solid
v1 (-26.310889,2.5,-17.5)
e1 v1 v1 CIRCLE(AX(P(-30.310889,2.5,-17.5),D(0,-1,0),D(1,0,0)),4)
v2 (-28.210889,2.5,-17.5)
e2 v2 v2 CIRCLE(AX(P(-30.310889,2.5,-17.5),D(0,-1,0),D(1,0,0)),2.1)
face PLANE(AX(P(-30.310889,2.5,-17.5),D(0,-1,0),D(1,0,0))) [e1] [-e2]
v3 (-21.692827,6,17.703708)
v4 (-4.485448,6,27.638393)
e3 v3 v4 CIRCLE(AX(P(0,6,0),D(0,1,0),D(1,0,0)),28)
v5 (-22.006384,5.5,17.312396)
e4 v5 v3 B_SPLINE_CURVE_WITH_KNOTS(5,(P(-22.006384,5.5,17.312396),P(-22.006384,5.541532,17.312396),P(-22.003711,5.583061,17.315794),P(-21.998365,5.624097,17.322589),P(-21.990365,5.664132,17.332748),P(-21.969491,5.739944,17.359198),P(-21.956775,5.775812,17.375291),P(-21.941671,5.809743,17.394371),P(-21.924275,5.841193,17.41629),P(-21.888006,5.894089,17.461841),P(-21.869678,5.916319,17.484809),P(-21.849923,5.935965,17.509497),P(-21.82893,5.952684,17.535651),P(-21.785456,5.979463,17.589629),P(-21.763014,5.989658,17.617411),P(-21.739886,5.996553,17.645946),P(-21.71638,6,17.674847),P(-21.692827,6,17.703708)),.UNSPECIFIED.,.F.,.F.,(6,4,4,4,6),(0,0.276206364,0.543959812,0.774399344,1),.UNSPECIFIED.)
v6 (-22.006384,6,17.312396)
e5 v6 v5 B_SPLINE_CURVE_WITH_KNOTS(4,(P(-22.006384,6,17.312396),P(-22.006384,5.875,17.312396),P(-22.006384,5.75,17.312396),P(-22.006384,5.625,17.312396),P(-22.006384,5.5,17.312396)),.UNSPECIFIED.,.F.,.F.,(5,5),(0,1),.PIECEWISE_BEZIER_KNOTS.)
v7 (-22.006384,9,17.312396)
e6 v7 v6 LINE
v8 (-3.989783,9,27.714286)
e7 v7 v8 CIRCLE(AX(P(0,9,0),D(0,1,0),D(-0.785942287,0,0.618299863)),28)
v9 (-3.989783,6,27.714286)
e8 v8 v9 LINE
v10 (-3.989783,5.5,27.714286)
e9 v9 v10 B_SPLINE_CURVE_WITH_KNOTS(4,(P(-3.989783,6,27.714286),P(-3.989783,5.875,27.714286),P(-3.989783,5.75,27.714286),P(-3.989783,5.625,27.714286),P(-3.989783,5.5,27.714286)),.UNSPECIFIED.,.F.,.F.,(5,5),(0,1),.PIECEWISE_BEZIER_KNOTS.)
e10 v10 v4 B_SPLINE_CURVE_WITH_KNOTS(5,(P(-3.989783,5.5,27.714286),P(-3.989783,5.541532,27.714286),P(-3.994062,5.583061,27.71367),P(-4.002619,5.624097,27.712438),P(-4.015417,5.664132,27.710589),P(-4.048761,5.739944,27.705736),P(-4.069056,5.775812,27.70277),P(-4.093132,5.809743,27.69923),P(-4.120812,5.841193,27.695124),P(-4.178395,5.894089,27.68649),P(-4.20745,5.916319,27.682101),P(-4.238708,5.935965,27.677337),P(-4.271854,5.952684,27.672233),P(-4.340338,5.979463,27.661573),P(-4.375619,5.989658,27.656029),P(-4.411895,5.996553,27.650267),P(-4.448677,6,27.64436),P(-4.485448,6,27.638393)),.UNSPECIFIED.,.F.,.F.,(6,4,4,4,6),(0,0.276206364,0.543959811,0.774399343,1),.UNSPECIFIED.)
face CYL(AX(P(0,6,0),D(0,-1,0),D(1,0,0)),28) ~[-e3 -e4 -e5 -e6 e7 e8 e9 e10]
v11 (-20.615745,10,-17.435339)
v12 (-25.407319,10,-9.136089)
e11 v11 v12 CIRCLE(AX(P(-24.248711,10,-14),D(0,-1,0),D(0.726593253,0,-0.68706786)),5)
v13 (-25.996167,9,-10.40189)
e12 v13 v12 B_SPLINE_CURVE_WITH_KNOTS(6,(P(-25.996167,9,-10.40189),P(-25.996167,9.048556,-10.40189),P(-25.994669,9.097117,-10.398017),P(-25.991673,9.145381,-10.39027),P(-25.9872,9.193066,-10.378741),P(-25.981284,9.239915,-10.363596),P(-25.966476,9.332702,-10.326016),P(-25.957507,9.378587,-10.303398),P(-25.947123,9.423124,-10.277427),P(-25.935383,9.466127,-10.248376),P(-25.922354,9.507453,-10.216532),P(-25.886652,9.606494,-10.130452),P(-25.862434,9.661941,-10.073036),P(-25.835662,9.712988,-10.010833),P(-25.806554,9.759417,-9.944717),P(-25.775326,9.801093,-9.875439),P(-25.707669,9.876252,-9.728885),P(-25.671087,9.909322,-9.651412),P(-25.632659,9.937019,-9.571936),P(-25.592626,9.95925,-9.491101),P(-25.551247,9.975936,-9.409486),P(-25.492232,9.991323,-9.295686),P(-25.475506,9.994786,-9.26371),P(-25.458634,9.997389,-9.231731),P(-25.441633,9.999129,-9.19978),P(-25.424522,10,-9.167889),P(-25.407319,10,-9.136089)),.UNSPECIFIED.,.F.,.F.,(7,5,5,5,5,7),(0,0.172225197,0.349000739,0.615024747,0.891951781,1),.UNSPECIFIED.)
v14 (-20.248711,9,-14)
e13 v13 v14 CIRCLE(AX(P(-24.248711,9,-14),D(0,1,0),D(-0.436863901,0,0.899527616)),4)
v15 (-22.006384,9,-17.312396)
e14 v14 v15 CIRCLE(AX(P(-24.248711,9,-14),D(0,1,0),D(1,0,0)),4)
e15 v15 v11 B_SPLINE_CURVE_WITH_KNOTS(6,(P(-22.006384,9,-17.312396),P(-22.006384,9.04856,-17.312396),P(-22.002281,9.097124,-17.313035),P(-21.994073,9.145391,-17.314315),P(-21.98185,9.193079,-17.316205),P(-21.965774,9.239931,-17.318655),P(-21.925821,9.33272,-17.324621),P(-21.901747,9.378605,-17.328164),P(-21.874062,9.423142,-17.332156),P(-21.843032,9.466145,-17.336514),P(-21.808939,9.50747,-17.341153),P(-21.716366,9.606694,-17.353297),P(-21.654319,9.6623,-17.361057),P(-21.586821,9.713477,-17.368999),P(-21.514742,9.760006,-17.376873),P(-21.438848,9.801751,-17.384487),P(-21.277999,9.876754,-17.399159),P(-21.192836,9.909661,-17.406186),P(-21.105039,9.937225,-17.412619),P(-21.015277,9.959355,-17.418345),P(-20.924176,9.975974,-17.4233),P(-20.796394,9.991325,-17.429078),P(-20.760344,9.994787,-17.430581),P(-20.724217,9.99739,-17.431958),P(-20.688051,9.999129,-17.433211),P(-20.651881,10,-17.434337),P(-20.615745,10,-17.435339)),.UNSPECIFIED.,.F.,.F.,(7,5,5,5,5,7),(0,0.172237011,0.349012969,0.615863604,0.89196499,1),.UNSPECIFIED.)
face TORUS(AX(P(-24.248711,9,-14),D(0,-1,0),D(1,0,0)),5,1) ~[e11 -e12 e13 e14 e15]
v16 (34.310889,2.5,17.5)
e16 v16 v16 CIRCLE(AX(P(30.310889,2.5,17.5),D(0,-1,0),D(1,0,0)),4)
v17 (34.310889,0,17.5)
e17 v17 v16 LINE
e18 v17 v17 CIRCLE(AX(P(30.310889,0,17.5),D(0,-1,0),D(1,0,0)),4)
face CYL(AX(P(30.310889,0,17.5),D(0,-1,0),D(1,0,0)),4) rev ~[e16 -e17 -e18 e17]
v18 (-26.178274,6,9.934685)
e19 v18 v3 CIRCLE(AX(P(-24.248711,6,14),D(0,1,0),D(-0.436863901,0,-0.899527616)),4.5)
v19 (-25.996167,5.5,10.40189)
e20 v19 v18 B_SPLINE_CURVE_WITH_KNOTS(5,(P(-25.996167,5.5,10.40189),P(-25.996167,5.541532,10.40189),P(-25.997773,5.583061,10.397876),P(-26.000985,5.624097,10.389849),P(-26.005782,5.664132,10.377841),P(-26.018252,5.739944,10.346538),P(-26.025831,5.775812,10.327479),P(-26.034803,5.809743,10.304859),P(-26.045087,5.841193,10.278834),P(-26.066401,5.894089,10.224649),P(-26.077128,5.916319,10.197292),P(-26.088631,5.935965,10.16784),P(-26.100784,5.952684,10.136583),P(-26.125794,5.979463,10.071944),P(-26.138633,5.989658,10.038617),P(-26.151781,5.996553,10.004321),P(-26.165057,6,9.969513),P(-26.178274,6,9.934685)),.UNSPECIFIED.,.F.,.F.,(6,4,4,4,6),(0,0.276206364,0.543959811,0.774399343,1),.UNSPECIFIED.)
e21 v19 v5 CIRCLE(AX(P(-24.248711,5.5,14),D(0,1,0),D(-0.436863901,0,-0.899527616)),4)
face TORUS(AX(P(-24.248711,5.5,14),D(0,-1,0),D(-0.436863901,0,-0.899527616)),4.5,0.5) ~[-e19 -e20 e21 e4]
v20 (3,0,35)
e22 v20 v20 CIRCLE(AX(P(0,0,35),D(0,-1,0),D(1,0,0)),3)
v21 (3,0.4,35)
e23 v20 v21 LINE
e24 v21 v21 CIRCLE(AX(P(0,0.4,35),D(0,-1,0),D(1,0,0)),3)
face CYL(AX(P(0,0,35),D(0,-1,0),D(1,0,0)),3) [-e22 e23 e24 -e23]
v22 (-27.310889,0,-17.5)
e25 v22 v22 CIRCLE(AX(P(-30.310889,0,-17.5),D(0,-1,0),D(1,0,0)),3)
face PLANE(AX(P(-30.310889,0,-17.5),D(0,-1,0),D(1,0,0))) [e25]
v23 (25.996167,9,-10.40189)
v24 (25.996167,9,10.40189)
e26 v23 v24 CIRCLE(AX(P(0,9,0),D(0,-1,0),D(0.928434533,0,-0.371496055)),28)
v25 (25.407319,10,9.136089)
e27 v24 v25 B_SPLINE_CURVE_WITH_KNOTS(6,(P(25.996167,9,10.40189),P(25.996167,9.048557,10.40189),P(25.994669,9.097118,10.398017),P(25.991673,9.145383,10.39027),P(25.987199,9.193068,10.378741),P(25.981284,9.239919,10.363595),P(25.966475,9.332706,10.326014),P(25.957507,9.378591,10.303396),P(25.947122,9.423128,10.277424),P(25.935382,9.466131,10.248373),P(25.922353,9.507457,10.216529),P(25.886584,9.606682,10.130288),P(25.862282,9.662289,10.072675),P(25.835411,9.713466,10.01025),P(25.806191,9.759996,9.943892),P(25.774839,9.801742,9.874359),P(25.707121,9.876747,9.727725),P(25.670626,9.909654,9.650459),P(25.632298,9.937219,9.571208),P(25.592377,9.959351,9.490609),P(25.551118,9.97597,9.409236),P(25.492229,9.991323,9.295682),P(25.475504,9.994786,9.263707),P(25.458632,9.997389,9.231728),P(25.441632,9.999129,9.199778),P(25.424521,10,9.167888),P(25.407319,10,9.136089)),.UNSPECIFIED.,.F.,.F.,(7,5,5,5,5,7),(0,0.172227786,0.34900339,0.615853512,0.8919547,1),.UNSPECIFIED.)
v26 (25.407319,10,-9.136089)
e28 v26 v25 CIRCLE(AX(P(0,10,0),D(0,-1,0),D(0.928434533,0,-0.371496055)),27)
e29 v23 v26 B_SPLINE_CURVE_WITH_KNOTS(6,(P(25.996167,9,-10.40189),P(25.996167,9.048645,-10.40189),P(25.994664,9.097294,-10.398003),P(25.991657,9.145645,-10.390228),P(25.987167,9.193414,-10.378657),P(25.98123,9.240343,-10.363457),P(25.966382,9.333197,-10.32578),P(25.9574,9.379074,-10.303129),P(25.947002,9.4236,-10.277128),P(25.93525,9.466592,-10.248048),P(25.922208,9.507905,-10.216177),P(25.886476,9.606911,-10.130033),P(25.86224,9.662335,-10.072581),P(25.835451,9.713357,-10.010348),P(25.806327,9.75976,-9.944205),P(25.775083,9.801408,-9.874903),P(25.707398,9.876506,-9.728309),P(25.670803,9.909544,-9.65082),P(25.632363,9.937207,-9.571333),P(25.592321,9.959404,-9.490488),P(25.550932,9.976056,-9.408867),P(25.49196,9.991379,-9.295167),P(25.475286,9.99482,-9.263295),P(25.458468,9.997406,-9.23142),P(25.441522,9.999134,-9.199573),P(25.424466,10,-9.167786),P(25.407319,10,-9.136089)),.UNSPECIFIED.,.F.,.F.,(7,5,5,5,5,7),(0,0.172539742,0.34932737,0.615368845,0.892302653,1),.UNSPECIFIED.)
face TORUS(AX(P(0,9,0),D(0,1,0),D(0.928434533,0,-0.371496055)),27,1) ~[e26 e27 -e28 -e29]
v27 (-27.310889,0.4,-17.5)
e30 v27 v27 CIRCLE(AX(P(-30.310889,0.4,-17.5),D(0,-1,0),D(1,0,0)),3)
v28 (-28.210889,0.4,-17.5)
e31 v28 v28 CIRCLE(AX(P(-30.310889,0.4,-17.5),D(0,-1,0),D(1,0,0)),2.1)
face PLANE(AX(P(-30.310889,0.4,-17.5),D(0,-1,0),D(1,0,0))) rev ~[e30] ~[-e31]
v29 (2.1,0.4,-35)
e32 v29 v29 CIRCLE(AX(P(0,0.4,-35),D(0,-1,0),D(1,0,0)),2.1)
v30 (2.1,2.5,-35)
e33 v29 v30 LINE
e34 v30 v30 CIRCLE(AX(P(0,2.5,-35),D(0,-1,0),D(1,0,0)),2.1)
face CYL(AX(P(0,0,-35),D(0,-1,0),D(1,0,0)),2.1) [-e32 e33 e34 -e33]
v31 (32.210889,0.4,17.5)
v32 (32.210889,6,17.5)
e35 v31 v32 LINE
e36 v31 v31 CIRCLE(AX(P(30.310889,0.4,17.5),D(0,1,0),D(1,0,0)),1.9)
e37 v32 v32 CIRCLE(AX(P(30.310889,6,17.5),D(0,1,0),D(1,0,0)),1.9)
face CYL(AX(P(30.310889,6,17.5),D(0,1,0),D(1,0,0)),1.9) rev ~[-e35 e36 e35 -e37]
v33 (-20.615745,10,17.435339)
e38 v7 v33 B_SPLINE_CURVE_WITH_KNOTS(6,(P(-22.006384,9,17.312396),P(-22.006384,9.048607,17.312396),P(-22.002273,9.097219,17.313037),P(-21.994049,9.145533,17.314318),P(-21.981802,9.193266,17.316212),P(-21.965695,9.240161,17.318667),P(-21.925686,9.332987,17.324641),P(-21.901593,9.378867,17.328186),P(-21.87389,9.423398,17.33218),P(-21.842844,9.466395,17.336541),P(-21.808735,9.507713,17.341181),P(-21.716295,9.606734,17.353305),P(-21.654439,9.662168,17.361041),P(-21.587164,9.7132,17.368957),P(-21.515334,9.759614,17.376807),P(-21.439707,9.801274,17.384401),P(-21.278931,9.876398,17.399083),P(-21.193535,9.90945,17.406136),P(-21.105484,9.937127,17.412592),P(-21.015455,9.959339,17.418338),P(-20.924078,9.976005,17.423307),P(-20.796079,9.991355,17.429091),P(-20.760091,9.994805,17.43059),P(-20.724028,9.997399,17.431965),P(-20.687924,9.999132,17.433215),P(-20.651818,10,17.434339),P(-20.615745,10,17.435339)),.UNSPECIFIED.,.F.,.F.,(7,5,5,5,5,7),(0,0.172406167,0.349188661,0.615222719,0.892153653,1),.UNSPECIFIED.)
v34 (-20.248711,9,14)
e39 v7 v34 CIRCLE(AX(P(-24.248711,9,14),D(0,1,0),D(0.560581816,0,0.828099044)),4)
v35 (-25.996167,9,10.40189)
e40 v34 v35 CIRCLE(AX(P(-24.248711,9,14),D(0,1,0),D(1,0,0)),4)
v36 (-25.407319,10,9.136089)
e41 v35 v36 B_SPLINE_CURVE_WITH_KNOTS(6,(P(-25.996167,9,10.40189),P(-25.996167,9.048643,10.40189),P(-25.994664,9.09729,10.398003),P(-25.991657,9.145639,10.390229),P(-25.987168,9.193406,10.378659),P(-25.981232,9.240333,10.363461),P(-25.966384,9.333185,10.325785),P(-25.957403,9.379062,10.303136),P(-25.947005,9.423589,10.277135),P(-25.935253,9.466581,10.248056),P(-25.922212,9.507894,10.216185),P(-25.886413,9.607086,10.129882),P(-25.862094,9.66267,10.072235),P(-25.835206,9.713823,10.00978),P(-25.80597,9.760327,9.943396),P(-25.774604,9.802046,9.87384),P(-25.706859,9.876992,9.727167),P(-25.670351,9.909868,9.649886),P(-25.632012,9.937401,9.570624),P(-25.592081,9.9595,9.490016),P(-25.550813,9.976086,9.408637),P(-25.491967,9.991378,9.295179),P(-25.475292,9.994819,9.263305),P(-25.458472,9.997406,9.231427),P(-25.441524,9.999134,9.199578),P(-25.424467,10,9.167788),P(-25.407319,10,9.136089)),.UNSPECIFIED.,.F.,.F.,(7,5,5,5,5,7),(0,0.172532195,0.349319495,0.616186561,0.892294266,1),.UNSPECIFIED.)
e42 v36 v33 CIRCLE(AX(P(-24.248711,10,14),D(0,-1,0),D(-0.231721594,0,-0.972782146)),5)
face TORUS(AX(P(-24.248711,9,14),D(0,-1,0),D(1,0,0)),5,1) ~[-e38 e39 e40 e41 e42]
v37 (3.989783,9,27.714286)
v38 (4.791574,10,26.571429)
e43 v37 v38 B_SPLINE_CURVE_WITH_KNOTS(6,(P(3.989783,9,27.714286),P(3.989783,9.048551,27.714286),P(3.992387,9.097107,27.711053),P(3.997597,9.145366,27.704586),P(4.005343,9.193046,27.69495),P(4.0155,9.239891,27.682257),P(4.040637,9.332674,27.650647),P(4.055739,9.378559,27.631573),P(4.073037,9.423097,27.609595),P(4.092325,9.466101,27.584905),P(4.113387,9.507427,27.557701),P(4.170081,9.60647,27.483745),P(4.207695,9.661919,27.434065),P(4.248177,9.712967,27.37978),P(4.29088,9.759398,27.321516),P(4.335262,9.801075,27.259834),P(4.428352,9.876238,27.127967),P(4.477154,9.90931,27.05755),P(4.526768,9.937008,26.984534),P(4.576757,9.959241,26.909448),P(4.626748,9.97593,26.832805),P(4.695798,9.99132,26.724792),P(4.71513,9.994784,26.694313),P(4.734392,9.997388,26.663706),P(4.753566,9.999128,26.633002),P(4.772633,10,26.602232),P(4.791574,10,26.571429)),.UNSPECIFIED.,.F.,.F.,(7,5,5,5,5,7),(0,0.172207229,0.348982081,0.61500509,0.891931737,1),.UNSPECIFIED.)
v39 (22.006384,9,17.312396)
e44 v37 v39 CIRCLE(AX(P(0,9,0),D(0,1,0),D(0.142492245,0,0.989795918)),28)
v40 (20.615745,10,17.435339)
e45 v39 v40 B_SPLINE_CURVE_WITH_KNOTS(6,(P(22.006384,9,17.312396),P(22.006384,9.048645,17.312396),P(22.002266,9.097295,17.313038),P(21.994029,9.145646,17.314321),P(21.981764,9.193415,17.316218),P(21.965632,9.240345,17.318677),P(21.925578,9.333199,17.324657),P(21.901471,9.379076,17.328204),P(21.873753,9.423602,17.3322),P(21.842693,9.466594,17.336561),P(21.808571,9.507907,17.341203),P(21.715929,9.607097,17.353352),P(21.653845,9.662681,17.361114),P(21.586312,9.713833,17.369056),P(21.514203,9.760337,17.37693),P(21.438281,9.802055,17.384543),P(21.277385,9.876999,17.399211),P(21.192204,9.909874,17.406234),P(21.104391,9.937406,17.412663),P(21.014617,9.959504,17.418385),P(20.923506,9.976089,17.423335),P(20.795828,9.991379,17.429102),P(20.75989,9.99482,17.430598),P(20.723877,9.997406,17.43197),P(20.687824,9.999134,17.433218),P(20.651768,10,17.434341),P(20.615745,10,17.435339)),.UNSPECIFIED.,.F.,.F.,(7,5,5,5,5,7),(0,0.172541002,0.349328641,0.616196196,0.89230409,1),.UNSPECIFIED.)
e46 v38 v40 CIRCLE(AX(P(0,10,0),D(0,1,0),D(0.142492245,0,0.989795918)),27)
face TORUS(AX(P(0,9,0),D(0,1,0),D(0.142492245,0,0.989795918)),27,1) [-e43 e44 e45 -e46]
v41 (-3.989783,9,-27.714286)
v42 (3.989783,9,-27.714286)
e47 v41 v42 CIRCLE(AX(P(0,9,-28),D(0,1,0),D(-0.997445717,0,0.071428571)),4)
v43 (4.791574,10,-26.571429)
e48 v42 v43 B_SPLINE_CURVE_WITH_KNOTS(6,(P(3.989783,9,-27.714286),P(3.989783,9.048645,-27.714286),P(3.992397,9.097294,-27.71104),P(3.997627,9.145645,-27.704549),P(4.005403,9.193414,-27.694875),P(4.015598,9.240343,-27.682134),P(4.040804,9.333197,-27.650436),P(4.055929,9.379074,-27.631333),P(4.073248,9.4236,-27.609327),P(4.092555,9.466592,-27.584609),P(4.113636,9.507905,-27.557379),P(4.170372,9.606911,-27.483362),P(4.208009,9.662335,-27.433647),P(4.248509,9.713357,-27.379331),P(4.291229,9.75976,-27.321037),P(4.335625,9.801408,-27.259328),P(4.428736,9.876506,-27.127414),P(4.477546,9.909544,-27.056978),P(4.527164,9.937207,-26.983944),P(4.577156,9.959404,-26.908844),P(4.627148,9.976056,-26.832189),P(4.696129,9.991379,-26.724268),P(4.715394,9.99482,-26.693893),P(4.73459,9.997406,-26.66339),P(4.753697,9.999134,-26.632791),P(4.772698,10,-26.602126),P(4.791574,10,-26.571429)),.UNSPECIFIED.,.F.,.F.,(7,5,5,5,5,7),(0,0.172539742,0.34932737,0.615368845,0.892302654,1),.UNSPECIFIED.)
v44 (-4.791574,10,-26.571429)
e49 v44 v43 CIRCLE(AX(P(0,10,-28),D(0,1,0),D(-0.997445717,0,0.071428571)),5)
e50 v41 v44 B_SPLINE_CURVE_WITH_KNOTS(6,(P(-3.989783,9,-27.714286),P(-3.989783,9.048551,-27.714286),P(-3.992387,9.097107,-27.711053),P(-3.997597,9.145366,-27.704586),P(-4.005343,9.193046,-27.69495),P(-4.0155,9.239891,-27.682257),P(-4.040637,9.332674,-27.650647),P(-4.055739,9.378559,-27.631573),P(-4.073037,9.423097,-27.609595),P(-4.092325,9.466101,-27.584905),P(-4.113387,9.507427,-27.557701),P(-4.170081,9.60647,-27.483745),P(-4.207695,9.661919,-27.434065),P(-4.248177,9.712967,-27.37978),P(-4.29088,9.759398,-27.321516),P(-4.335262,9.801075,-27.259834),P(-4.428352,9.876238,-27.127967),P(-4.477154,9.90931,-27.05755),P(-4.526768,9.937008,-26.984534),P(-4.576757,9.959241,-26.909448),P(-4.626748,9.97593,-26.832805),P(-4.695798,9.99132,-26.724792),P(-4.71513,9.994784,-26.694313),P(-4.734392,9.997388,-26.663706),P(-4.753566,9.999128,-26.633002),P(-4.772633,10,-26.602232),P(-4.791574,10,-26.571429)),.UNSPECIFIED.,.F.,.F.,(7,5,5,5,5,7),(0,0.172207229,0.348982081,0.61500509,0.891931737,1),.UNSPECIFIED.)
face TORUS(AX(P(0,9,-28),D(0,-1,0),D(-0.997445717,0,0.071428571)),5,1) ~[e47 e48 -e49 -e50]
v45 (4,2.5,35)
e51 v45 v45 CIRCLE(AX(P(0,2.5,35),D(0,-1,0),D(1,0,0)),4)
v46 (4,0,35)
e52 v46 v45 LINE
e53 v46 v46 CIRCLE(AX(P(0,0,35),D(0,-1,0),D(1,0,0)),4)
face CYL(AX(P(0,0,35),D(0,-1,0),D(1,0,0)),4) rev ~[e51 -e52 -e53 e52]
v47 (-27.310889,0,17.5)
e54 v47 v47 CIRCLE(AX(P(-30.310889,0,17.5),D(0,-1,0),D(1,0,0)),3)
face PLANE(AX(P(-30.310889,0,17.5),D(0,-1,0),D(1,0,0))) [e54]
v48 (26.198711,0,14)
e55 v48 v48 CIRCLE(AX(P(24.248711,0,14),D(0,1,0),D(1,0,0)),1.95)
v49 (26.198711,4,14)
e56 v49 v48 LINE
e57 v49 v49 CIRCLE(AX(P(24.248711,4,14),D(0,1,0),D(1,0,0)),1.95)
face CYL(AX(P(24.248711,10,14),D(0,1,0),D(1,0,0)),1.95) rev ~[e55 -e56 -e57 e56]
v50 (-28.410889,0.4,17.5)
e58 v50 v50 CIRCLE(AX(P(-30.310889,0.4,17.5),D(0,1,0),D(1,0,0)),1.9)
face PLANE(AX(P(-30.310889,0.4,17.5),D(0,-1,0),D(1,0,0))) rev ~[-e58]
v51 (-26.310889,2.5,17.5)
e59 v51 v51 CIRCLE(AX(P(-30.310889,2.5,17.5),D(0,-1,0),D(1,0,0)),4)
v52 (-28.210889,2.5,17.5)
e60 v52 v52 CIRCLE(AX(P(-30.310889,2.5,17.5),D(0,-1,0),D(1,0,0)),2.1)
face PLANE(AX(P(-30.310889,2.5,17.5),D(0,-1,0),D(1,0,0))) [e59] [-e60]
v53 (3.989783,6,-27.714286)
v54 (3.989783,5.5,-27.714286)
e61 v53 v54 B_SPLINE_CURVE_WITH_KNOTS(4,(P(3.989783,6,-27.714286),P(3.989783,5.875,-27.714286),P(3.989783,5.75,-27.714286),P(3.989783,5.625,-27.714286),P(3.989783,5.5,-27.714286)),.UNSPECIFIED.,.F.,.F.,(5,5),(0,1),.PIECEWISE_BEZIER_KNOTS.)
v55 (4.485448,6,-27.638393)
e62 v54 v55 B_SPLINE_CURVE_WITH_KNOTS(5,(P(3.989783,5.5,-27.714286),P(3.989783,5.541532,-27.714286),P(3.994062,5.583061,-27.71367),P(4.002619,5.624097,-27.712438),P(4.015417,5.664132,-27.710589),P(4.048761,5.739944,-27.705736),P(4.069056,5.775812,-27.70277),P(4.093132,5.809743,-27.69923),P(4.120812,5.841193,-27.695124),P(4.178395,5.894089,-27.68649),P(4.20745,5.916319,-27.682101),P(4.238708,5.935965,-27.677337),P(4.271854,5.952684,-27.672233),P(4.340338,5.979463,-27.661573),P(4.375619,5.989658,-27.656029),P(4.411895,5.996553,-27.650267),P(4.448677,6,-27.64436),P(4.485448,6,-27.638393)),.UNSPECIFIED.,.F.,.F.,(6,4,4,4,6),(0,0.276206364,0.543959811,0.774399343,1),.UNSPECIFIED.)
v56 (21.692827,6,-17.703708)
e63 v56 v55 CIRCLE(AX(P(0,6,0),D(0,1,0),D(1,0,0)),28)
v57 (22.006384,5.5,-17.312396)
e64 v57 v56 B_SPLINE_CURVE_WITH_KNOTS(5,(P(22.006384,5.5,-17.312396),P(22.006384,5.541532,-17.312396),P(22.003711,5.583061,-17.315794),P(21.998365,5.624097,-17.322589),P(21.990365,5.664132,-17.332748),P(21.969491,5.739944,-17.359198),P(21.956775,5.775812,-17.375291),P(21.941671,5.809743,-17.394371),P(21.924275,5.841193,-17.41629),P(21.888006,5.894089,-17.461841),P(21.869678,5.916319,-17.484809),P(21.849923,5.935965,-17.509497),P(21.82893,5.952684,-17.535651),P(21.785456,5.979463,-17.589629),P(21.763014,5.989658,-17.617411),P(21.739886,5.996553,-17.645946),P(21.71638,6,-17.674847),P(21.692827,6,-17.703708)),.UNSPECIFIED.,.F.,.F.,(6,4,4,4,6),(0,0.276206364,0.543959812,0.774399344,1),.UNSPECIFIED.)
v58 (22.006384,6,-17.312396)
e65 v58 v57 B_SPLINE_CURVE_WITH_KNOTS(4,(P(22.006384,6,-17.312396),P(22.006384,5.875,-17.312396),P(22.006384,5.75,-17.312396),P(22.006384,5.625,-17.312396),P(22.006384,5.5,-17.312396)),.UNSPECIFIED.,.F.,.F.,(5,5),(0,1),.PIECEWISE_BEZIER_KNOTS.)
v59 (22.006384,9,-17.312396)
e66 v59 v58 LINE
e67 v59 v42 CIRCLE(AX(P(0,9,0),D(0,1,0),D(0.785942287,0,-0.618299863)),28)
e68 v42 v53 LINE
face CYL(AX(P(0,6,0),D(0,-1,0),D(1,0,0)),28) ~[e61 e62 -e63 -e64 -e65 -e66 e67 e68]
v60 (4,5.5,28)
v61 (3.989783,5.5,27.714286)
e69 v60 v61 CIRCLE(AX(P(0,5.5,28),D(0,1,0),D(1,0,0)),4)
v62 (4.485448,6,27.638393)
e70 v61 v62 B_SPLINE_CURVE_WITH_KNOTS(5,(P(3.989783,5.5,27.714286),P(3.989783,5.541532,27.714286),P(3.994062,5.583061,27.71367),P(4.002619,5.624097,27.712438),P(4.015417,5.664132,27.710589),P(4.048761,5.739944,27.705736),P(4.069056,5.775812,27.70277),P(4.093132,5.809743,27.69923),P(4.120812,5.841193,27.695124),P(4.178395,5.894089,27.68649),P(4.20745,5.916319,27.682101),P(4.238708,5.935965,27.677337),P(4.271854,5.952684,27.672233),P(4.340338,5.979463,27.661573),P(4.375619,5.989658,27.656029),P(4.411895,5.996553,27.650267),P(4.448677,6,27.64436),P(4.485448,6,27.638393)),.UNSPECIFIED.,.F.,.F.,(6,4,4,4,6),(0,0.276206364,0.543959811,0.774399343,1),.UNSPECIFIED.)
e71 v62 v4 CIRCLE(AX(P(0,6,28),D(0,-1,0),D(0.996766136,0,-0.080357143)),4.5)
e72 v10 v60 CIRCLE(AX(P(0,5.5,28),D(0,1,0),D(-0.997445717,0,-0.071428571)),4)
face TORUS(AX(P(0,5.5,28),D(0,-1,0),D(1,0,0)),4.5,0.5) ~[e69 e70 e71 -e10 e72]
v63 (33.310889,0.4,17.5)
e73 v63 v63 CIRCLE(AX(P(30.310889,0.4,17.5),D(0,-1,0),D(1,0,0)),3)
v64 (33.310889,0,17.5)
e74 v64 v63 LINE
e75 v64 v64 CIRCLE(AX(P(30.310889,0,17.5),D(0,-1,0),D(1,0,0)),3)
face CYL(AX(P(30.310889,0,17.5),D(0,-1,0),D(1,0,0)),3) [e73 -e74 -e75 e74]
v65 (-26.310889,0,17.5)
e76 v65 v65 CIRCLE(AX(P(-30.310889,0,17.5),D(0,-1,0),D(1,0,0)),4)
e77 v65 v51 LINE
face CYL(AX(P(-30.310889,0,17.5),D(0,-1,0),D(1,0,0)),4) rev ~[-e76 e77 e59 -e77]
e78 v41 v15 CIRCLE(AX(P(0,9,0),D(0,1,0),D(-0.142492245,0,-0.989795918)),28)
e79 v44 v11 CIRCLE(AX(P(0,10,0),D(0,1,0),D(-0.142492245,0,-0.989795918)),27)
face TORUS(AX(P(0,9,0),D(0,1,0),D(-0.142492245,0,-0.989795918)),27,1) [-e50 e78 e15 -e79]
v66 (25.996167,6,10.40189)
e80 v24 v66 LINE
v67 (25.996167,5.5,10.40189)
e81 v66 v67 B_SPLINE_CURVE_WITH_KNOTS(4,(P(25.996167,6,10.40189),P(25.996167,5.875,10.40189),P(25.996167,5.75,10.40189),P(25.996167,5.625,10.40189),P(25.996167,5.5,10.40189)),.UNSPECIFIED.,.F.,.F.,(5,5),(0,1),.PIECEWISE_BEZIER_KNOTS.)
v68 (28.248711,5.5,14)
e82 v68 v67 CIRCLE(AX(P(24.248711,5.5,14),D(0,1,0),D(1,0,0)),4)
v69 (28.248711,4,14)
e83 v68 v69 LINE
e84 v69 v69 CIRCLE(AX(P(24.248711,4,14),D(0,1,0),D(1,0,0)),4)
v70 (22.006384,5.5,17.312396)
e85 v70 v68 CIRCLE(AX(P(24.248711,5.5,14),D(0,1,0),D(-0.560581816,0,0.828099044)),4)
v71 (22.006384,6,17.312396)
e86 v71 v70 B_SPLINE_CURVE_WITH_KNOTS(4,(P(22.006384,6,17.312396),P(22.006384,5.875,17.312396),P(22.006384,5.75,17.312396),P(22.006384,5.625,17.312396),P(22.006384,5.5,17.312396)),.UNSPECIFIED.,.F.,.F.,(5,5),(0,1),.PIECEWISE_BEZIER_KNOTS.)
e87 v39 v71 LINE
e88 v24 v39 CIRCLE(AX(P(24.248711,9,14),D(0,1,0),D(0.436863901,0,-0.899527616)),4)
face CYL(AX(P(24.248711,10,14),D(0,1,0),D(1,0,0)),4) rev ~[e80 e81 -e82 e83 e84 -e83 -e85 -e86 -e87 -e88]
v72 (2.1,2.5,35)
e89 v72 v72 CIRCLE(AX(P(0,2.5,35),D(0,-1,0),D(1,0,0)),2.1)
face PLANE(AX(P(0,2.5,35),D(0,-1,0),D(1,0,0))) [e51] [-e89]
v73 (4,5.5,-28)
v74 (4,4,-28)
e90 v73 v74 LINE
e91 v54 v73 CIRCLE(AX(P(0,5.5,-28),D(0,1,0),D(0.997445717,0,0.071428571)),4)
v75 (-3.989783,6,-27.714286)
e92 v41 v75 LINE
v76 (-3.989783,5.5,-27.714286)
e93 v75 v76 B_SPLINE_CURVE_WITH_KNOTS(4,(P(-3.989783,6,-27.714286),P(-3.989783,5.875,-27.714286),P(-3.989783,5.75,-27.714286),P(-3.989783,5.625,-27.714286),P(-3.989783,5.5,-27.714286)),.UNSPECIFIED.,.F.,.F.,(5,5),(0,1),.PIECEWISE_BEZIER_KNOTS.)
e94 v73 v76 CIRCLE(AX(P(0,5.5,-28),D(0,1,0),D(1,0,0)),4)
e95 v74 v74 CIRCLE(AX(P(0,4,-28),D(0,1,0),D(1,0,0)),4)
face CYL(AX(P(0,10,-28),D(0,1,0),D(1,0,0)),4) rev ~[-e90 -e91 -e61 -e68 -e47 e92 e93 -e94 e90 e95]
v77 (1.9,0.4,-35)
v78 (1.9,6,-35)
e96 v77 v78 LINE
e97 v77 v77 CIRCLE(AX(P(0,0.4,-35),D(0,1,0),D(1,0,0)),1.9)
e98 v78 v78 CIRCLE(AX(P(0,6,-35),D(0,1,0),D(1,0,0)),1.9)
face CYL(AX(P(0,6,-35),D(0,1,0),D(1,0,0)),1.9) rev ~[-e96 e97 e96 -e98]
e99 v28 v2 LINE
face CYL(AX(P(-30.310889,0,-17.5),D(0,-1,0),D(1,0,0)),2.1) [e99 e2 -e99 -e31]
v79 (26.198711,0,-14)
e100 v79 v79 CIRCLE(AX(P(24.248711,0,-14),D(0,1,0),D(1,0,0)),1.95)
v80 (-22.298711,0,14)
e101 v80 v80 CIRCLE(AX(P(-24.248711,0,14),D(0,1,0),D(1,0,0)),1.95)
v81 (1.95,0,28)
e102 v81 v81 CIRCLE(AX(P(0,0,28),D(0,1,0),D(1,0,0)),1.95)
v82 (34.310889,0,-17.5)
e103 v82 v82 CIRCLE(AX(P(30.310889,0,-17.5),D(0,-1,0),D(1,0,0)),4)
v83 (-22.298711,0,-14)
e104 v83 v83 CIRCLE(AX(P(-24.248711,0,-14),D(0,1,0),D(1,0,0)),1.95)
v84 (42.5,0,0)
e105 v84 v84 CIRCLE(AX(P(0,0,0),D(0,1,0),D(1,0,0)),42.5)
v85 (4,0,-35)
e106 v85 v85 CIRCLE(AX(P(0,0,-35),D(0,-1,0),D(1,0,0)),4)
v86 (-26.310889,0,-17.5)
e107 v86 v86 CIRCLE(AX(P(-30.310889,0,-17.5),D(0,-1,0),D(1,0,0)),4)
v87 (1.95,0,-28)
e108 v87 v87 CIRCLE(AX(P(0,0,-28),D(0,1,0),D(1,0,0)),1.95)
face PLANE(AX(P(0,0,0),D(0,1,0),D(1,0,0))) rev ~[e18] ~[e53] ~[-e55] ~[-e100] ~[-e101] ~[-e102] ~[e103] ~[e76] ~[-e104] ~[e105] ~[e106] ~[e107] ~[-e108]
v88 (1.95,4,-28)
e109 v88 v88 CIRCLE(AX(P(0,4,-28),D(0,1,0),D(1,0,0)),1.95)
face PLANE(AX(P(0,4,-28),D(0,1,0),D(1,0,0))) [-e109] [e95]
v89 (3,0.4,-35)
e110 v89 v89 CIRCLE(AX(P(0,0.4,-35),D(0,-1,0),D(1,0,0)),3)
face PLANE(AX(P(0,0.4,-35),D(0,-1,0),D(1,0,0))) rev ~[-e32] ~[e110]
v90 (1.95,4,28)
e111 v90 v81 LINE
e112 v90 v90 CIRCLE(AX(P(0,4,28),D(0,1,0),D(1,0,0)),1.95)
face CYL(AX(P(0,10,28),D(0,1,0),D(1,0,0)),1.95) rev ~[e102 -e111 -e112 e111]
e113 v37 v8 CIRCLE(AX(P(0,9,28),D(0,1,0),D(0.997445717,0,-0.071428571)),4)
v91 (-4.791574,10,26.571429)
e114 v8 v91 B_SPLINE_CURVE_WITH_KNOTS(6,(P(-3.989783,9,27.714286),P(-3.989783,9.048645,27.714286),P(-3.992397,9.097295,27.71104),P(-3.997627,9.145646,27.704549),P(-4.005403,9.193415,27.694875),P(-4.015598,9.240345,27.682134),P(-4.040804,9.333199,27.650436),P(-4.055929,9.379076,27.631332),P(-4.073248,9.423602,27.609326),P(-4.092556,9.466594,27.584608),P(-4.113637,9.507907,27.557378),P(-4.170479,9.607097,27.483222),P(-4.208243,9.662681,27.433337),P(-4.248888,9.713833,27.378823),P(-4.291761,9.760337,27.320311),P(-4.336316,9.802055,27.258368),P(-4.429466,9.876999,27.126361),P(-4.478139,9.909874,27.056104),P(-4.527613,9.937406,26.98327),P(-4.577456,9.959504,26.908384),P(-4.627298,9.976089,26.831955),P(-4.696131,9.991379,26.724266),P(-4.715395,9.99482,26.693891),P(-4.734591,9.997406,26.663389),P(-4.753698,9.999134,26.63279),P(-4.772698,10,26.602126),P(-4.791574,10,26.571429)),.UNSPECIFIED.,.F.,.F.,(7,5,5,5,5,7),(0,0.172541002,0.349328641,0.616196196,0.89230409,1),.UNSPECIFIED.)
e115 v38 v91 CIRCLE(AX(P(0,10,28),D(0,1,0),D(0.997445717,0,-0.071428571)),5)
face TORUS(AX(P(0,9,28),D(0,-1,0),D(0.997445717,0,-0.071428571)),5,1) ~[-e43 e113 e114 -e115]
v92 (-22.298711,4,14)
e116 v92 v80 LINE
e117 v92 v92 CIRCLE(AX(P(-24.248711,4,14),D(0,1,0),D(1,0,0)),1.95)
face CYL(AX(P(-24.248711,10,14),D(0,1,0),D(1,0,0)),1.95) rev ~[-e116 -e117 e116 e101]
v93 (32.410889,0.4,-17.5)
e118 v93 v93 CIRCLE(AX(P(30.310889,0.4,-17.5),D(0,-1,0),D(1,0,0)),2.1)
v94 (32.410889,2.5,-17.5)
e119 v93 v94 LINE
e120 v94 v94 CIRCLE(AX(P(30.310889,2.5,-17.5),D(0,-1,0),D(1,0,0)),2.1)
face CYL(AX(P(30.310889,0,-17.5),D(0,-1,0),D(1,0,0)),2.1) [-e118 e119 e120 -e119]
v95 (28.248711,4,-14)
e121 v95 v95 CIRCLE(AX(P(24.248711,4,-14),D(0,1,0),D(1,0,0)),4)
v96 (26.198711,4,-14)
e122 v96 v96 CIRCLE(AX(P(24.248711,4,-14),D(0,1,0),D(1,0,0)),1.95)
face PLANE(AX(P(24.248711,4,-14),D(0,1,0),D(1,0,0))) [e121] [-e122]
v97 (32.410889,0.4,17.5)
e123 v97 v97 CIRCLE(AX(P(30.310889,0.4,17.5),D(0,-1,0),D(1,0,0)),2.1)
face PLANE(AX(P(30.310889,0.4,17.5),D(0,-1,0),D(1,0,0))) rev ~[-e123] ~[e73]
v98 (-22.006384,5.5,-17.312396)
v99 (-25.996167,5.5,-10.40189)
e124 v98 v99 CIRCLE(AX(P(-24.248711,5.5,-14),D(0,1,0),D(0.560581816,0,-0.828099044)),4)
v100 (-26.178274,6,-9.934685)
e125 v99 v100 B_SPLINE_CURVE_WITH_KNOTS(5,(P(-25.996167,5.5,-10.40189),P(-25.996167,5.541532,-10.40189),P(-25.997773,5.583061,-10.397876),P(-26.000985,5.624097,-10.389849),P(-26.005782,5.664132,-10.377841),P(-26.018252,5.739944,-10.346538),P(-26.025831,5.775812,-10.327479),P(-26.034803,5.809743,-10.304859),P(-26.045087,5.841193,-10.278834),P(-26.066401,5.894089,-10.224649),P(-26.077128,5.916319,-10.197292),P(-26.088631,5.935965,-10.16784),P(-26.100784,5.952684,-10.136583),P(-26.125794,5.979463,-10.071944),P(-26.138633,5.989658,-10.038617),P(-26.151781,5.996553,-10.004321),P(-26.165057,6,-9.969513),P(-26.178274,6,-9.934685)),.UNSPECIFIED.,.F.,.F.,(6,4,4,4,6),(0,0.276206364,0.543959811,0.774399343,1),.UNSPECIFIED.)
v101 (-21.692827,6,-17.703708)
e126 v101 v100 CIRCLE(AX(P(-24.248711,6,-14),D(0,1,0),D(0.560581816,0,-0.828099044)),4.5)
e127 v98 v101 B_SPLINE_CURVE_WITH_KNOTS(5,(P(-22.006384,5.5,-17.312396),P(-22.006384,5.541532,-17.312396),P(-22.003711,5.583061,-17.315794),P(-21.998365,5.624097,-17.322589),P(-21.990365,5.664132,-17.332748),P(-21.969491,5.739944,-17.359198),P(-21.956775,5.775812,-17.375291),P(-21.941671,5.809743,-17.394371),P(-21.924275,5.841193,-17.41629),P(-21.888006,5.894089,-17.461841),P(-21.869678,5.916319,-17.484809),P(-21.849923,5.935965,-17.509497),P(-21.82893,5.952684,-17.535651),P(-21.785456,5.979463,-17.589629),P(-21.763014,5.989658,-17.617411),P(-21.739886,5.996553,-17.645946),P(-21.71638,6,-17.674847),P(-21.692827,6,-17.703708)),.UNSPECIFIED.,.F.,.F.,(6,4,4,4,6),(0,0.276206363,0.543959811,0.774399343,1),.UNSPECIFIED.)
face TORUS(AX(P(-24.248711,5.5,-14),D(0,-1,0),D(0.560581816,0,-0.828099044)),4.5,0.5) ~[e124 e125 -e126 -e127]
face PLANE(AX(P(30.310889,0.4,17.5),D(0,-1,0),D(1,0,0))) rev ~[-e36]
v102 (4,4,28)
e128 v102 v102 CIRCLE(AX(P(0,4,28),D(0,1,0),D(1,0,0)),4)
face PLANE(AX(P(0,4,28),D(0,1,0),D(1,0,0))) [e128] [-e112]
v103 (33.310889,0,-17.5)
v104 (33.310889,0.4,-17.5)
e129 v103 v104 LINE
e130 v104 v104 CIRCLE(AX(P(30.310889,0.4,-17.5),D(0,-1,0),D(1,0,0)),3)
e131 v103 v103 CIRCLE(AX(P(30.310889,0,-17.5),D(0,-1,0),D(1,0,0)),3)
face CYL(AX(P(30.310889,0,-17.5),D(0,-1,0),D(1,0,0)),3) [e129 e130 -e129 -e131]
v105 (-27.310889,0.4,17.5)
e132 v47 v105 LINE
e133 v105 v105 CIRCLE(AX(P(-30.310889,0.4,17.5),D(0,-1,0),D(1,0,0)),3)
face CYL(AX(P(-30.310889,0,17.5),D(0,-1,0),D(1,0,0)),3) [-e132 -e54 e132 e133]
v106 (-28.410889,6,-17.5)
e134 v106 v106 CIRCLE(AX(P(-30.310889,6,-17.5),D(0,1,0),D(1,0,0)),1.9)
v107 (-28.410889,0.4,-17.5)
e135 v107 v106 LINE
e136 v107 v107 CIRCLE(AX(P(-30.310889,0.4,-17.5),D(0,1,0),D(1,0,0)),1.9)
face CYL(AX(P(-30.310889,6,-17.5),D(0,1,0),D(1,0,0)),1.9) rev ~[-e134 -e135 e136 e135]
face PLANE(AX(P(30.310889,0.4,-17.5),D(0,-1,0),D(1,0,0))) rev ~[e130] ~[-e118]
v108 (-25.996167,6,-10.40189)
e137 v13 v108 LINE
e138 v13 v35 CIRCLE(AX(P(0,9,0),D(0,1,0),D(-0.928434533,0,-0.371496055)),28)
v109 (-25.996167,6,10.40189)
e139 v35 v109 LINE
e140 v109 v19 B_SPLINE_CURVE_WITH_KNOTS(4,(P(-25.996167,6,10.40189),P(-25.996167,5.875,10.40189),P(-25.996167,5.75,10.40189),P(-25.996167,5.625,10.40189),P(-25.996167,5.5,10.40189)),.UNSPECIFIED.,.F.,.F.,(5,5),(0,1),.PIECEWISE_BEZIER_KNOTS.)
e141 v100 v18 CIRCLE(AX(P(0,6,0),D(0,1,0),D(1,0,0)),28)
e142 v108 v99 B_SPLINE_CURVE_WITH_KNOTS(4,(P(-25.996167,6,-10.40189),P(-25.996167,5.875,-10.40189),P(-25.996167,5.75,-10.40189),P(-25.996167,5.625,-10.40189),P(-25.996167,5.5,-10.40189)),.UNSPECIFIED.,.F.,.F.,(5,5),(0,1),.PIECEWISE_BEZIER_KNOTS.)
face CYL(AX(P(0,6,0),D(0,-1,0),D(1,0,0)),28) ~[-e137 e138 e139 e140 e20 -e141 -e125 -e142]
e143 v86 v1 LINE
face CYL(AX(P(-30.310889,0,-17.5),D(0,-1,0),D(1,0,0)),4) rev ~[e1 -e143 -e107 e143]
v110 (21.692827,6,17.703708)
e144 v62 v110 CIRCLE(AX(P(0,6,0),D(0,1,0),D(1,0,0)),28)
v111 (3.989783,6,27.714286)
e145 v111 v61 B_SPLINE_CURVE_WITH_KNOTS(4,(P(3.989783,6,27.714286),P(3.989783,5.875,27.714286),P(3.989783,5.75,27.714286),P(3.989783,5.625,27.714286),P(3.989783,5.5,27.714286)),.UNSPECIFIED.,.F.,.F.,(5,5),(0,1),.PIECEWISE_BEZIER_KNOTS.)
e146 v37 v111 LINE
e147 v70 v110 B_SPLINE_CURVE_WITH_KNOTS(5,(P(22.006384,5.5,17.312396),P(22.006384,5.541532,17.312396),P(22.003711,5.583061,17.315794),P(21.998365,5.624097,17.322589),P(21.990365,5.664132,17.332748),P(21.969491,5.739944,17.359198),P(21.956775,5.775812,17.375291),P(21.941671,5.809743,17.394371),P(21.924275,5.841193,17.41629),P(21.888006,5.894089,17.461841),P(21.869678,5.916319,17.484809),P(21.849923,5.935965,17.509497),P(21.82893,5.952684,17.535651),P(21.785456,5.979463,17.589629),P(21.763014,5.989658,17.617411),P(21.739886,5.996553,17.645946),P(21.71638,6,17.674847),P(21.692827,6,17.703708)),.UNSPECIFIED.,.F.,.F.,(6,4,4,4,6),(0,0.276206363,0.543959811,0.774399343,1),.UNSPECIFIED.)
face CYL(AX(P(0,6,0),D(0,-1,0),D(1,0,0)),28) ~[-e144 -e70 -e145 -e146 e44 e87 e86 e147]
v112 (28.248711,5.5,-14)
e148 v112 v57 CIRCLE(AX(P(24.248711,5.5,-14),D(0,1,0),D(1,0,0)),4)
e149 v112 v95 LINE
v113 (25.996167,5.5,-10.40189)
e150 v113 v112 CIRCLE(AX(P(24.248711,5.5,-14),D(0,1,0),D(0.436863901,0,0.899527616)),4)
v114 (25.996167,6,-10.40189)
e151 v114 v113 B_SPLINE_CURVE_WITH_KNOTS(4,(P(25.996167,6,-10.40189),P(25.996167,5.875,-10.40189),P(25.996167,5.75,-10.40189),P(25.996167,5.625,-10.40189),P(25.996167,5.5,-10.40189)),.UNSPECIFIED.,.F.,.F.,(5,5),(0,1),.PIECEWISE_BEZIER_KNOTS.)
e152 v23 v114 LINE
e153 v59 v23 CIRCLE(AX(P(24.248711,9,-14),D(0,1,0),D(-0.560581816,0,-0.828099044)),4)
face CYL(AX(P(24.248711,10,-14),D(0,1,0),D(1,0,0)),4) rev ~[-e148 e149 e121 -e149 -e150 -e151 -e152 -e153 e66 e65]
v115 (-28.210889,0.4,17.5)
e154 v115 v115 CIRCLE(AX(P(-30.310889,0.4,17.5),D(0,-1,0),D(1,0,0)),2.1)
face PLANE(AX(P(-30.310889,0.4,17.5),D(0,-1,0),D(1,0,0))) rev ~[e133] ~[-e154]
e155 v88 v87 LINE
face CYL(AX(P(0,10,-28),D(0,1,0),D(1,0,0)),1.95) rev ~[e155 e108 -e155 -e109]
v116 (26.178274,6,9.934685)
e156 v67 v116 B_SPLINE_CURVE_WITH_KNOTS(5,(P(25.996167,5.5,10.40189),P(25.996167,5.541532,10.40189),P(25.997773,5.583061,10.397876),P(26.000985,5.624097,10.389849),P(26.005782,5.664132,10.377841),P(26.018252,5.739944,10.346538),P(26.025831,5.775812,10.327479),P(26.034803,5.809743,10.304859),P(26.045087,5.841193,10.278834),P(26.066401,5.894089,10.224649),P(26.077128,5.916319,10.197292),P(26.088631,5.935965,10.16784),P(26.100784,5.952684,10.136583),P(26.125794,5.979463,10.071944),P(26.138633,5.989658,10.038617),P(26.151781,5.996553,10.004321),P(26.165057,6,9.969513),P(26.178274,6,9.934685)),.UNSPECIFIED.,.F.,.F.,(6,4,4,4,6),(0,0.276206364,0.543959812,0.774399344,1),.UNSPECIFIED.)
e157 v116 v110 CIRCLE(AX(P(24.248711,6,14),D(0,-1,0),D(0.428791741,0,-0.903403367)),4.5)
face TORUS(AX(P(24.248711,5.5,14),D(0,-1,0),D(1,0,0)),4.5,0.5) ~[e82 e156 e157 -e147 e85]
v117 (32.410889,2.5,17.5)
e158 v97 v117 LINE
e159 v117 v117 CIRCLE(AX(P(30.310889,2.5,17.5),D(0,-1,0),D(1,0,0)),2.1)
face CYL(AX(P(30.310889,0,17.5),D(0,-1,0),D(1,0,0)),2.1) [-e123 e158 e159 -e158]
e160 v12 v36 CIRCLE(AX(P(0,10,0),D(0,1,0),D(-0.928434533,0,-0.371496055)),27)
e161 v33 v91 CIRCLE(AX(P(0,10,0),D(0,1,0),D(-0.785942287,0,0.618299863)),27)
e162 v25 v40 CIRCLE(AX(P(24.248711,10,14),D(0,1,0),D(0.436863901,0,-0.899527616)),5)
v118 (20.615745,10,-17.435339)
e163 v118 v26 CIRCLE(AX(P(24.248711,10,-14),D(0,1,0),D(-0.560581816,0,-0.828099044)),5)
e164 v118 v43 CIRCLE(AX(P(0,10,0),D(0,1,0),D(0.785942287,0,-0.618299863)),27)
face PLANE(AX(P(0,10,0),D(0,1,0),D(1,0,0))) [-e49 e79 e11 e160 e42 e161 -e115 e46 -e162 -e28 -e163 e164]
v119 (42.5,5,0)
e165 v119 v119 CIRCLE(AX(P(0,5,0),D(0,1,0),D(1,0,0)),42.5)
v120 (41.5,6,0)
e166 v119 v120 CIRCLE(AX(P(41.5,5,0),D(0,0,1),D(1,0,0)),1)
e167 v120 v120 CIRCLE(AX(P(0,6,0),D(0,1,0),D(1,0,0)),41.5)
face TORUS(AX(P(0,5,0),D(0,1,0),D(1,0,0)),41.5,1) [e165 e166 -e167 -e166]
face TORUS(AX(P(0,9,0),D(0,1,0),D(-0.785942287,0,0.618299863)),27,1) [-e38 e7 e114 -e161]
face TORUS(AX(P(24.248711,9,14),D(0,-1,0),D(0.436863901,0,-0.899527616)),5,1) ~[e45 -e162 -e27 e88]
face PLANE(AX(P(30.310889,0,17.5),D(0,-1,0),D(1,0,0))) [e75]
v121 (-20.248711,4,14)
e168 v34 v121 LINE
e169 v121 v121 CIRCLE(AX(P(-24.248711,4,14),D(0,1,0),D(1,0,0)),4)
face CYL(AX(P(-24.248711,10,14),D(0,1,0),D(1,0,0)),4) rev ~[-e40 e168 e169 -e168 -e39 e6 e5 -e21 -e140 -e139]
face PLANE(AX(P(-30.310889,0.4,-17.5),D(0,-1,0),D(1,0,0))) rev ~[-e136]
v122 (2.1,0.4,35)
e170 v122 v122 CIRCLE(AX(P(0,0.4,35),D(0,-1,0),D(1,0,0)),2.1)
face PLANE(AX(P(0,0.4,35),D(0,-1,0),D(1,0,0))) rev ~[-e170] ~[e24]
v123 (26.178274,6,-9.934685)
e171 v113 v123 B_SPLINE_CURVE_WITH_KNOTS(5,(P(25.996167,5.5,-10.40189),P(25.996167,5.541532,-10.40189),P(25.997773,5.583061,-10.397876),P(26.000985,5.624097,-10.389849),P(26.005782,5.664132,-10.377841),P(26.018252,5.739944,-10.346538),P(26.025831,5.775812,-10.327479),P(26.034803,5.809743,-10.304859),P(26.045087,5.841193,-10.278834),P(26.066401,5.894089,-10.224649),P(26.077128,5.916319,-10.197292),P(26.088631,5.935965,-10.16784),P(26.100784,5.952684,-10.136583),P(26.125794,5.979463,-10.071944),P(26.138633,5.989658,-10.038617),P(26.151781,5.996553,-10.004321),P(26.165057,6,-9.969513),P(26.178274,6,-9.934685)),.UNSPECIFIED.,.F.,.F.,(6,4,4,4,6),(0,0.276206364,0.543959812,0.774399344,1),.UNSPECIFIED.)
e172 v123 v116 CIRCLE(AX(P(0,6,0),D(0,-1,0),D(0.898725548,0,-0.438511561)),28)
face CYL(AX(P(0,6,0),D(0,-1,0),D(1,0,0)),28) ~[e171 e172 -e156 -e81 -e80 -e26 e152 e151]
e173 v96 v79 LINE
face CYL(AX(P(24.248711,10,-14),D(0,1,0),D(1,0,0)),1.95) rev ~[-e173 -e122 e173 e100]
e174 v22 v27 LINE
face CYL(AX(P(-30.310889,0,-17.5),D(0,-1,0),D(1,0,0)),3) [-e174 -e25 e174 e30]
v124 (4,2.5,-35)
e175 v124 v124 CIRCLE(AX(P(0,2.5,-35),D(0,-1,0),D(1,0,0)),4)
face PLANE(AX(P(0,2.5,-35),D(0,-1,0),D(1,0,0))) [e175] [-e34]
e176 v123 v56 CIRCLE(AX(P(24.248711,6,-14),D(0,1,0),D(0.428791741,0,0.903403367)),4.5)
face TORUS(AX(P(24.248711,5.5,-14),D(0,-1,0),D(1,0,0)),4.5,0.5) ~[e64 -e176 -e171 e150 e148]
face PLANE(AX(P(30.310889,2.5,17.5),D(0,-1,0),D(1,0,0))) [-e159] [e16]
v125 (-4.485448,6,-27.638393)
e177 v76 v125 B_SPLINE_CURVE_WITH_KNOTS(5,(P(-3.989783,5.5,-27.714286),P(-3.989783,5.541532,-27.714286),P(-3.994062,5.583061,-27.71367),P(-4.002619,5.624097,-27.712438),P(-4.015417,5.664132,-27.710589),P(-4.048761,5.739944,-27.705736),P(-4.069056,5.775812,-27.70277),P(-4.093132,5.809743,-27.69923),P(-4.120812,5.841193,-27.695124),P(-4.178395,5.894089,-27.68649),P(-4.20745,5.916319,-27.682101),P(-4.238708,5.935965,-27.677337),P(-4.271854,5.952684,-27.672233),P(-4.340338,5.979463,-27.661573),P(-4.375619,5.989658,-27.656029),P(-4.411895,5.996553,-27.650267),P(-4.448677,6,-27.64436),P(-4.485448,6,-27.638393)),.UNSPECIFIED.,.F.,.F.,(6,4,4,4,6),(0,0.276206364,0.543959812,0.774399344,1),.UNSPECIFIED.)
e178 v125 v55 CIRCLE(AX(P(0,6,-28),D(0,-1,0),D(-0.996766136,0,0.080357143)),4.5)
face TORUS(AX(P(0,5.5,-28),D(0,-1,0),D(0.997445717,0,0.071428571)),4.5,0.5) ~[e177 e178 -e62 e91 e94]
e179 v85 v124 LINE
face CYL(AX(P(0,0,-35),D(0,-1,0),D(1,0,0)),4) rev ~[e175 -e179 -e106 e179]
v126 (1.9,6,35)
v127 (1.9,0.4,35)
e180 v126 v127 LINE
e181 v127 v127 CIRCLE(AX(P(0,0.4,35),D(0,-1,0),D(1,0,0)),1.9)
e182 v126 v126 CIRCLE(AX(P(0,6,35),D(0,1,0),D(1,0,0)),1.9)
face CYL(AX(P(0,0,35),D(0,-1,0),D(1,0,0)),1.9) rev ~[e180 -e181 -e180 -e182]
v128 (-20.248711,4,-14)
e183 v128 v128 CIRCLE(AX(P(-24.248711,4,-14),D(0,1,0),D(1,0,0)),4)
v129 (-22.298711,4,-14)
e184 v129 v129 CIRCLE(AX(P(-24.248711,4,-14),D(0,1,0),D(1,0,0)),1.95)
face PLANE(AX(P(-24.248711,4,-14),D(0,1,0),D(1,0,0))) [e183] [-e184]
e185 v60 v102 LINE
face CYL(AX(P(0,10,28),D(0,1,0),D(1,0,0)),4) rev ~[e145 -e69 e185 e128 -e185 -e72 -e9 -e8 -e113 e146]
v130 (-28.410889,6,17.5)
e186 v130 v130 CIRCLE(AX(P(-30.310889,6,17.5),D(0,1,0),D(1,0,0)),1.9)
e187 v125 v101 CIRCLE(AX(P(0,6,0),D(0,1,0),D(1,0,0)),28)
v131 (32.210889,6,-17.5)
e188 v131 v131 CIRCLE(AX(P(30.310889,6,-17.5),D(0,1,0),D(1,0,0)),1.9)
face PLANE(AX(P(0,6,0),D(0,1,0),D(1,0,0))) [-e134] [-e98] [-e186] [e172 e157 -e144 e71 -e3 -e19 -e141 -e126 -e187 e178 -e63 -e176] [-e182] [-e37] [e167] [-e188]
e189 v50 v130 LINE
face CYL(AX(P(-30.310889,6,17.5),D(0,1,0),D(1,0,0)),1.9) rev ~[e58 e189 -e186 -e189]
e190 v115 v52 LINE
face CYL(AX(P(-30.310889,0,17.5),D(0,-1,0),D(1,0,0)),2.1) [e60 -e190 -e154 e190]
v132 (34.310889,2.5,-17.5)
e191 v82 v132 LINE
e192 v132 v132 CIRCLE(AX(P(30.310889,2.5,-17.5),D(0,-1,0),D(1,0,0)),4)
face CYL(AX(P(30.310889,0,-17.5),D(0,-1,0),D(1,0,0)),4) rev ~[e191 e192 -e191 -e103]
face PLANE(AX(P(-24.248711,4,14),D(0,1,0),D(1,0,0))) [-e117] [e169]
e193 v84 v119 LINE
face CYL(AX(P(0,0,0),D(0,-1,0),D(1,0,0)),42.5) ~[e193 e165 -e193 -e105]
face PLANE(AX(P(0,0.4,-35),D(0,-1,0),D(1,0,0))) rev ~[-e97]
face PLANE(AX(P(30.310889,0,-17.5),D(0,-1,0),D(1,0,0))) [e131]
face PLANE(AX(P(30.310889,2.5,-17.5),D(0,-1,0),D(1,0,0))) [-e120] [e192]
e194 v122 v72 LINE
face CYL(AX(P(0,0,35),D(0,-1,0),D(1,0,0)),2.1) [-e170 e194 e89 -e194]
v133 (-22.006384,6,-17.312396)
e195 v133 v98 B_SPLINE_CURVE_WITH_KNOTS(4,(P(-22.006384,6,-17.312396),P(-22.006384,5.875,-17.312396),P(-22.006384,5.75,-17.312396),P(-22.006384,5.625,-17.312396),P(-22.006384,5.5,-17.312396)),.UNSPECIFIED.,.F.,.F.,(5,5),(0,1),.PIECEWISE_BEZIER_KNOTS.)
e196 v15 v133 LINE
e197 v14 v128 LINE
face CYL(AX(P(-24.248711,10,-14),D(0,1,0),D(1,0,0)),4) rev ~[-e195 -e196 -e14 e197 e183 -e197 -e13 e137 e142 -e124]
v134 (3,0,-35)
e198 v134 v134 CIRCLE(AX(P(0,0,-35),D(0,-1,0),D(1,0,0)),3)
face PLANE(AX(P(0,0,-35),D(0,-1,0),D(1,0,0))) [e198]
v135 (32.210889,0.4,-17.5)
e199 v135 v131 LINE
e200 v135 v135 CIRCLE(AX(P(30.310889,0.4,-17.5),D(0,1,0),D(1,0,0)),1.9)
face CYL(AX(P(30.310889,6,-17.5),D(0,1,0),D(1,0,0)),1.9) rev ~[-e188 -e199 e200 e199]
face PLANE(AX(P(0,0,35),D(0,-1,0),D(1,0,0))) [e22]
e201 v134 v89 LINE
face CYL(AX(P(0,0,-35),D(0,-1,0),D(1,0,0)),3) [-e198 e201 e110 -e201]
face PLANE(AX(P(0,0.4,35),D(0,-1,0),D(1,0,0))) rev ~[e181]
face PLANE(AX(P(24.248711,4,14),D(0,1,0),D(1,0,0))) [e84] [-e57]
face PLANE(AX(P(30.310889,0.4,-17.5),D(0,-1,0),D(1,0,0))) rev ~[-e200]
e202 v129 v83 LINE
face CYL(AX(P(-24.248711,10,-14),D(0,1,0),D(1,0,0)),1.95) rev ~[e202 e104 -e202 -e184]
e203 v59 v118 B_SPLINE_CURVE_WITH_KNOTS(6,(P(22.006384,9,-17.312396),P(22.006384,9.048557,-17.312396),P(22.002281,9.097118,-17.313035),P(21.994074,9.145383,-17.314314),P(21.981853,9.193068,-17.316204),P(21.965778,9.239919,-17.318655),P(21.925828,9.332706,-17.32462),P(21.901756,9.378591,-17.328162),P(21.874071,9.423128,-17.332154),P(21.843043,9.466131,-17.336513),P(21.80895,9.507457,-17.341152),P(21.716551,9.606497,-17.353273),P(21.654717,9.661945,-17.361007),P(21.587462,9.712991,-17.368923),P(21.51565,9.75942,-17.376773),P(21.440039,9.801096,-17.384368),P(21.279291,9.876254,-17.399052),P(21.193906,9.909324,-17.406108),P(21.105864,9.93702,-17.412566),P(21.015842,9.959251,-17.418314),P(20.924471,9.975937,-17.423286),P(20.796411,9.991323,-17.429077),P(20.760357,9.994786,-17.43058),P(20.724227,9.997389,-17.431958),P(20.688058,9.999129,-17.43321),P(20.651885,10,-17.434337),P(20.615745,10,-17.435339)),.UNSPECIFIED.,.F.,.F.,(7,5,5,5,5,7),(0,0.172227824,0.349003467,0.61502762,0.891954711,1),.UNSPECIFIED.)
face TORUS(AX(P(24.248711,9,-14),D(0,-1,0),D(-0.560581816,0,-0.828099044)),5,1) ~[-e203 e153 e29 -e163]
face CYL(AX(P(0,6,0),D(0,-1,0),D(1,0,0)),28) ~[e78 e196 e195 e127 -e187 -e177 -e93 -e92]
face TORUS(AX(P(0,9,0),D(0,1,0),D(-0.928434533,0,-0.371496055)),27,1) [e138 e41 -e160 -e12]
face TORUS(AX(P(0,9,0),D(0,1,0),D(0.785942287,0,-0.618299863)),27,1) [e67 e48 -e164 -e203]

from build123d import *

# Parameters (mm, degrees)
SKETCH1_R           = 42.5
BOSS_EXTRUDE1_DEPTH = 6
SKETCH2_R           = 1.9
CUT_EXTRUDE1_DEPTH  = 34
SKETCH3_R           = 4
CUT_EXTRUDE2_DEPTH  = 2.5
SKETCH4_R           = 28
BOSS_EXTRUDE2_DEPTH = 4
SKETCH5_R           = 1.95
CUT_EXTRUDE3_DEPTH  = 18
SKETCH6_R           = 4
CUT_EXTRUDE4_DEPTH  = 6
FILLET3_R           = 1
FILLET4_R           = 0.5
SKETCH8_R           = 2.1
SKETCH8_R_2         = 1.9
BOSS_EXTRUDE3_DEPTH = 4
SKETCH9_R           = 3
BOSS_EXTRUDE4_DEPTH = 0.4
FILLET5_R           = 1


with BuildPart() as part:
    # Sketch1 → Boss-Extrude1 (new body)
    with BuildSketch(Plane(origin=(0, 0, 0), x_dir=(1, 0, 0), z_dir=(0, 1, 0))):
        Circle(SKETCH1_R)
    extrude(amount=BOSS_EXTRUDE1_DEPTH)

    # Sketch2 → Cut-Extrude1 (cut)
    with BuildSketch(Plane(origin=(0, 6, 0), x_dir=(1, 0, 0), z_dir=(0, 1, 0))):
        with Locations((0, 35)):
            Circle(SKETCH2_R)
        with Locations((-30.310889132, 17.5)):
            Circle(SKETCH2_R)
        with Locations((30.310889132, 17.5)):
            Circle(SKETCH2_R)
        with Locations((30.310889132, -17.5)):
            Circle(SKETCH2_R)
        with Locations((-30.310889132, -17.5)):
            Circle(SKETCH2_R)
        with Locations((0, -35)):
            Circle(SKETCH2_R)
    extrude(amount=-CUT_EXTRUDE1_DEPTH, mode=Mode.SUBTRACT)

    # Sketch3 → Cut-Extrude2 (cut)
    with BuildSketch(Plane.XZ):
        with Locations((0, -35)):
            Circle(SKETCH3_R)
        with Locations((-30.310889132, -17.5)):
            Circle(SKETCH3_R)
        with Locations((-30.310889132, 17.5)):
            Circle(SKETCH3_R)
        with Locations((0, 35)):
            Circle(SKETCH3_R)
        with Locations((30.310889132, 17.5)):
            Circle(SKETCH3_R)
        with Locations((30.310889132, -17.5)):
            Circle(SKETCH3_R)
    extrude(amount=-CUT_EXTRUDE2_DEPTH, mode=Mode.SUBTRACT)

    # Sketch4 → Boss-Extrude2 (add)
    with BuildSketch(Plane(origin=(0, 6, 0), x_dir=(1, 0, 0), z_dir=(0, 1, 0))):
        Circle(SKETCH4_R)
    extrude(amount=BOSS_EXTRUDE2_DEPTH)

    # Sketch5 → Cut-Extrude3 (cut)
    with BuildSketch(Plane(origin=(0, 10, 0), x_dir=(1, 0, 0), z_dir=(0, 1, 0))):
        with Locations((-24.248711306, 14)):
            Circle(SKETCH5_R)
        with Locations((0, 28)):
            Circle(SKETCH5_R)
        with Locations((24.248711306, 14)):
            Circle(SKETCH5_R)
        with Locations((24.248711306, -14)):
            Circle(SKETCH5_R)
        with Locations((0, -28)):
            Circle(SKETCH5_R)
        with Locations((-24.248711306, -14)):
            Circle(SKETCH5_R)
    extrude(amount=-CUT_EXTRUDE3_DEPTH, mode=Mode.SUBTRACT)

    # Sketch6 → Cut-Extrude4 (cut)
    with BuildSketch(Plane(origin=(0, 10, 0), x_dir=(1, 0, 0), z_dir=(0, 1, 0))):
        with Locations((0, 28)):
            Circle(SKETCH6_R)
        with Locations((24.248711306, 14)):
            Circle(SKETCH6_R)
        with Locations((24.248711306, -14)):
            Circle(SKETCH6_R)
        with Locations((0, -28)):
            Circle(SKETCH6_R)
        with Locations((-24.248711306, -14)):
            Circle(SKETCH6_R)
        with Locations((-24.248711306, 14)):
            Circle(SKETCH6_R)
    extrude(amount=-CUT_EXTRUDE4_DEPTH, mode=Mode.SUBTRACT)

    # Fillet3
    fillet3_edges = [part.edges().sort_by_distance(p)[0] for p in [
        (-14, 10, -24.248711306),
        (0, 10, -24),
        (-28, 10, 0),
        (-14, 10, 24.248711306),
        (14, 10, 24.248711306),
        (28, 10, 0),
        (14, 10, -24.248711306),
        (20.784609691, 10, -12),
        (20.784609691, 10, 12),
        (0, 10, 24),
        (-22.126191862, 10, 10.609585393),
        (-22.126191862, 10, -10.609585393),
    ]]
    fillet(fillet3_edges, radius=FILLET3_R)

    # Fillet4
    fillet4_edges = [part.edges().sort_by_distance(p)[0] for p in [
        (-0.142948455, 6, -31.997444901),
        (26.123636763, 6, -17.533363062),
        (26.123636763, 6, 17.533363062),
        (-0.142948455, 6, 31.997444901),
        (-27.712812921, 6, 16),
        (-27.712812921, 6, -16),
    ]]
    fillet(fillet4_edges, radius=FILLET4_R)

    # Sketch8 → Boss-Extrude3 (add)
    with BuildSketch(Plane.XZ):
        with Locations((0, 35)):
            Circle(SKETCH8_R)
        with Locations((0, 35)):
            Circle(SKETCH8_R_2, mode=Mode.SUBTRACT)
        with Locations((30.310889132, 17.5)):
            Circle(SKETCH8_R)
        with Locations((30.310889132, 17.5)):
            Circle(SKETCH8_R_2, mode=Mode.SUBTRACT)
        with Locations((30.310889132, -17.5)):
            Circle(SKETCH8_R)
        with Locations((30.310889132, -17.5)):
            Circle(SKETCH8_R_2, mode=Mode.SUBTRACT)
        with Locations((0, -35)):
            Circle(SKETCH8_R)
        with Locations((0, -35)):
            Circle(SKETCH8_R_2, mode=Mode.SUBTRACT)
        with Locations((-30.310889132, -17.5)):
            Circle(SKETCH8_R)
        with Locations((-30.310889132, -17.5)):
            Circle(SKETCH8_R_2, mode=Mode.SUBTRACT)
        with Locations((-30.310889132, 17.5)):
            Circle(SKETCH8_R)
        with Locations((-30.310889132, 17.5)):
            Circle(SKETCH8_R_2, mode=Mode.SUBTRACT)
    extrude(amount=-BOSS_EXTRUDE3_DEPTH)

    # Sketch9 → Boss-Extrude4 (add)
    with BuildSketch(Plane.XZ):
        with Locations((0, 35)):
            Circle(SKETCH9_R)
        with Locations((30.310889132, 17.5)):
            Circle(SKETCH9_R)
        with Locations((30.310889132, -17.5)):
            Circle(SKETCH9_R)
        with Locations((0, -35)):
            Circle(SKETCH9_R)
        with Locations((-30.310889132, -17.5)):
            Circle(SKETCH9_R)
        with Locations((-30.310889132, 17.5)):
            Circle(SKETCH9_R)
    extrude(amount=-BOSS_EXTRUDE4_DEPTH)

    # Fillet5
    fillet5_edges = [part.edges().sort_by_distance(p)[0] for p in [
        (-42.5, 6, 0),
    ]]
    fillet(fillet5_edges, radius=FILLET5_R)


solid = part.part
